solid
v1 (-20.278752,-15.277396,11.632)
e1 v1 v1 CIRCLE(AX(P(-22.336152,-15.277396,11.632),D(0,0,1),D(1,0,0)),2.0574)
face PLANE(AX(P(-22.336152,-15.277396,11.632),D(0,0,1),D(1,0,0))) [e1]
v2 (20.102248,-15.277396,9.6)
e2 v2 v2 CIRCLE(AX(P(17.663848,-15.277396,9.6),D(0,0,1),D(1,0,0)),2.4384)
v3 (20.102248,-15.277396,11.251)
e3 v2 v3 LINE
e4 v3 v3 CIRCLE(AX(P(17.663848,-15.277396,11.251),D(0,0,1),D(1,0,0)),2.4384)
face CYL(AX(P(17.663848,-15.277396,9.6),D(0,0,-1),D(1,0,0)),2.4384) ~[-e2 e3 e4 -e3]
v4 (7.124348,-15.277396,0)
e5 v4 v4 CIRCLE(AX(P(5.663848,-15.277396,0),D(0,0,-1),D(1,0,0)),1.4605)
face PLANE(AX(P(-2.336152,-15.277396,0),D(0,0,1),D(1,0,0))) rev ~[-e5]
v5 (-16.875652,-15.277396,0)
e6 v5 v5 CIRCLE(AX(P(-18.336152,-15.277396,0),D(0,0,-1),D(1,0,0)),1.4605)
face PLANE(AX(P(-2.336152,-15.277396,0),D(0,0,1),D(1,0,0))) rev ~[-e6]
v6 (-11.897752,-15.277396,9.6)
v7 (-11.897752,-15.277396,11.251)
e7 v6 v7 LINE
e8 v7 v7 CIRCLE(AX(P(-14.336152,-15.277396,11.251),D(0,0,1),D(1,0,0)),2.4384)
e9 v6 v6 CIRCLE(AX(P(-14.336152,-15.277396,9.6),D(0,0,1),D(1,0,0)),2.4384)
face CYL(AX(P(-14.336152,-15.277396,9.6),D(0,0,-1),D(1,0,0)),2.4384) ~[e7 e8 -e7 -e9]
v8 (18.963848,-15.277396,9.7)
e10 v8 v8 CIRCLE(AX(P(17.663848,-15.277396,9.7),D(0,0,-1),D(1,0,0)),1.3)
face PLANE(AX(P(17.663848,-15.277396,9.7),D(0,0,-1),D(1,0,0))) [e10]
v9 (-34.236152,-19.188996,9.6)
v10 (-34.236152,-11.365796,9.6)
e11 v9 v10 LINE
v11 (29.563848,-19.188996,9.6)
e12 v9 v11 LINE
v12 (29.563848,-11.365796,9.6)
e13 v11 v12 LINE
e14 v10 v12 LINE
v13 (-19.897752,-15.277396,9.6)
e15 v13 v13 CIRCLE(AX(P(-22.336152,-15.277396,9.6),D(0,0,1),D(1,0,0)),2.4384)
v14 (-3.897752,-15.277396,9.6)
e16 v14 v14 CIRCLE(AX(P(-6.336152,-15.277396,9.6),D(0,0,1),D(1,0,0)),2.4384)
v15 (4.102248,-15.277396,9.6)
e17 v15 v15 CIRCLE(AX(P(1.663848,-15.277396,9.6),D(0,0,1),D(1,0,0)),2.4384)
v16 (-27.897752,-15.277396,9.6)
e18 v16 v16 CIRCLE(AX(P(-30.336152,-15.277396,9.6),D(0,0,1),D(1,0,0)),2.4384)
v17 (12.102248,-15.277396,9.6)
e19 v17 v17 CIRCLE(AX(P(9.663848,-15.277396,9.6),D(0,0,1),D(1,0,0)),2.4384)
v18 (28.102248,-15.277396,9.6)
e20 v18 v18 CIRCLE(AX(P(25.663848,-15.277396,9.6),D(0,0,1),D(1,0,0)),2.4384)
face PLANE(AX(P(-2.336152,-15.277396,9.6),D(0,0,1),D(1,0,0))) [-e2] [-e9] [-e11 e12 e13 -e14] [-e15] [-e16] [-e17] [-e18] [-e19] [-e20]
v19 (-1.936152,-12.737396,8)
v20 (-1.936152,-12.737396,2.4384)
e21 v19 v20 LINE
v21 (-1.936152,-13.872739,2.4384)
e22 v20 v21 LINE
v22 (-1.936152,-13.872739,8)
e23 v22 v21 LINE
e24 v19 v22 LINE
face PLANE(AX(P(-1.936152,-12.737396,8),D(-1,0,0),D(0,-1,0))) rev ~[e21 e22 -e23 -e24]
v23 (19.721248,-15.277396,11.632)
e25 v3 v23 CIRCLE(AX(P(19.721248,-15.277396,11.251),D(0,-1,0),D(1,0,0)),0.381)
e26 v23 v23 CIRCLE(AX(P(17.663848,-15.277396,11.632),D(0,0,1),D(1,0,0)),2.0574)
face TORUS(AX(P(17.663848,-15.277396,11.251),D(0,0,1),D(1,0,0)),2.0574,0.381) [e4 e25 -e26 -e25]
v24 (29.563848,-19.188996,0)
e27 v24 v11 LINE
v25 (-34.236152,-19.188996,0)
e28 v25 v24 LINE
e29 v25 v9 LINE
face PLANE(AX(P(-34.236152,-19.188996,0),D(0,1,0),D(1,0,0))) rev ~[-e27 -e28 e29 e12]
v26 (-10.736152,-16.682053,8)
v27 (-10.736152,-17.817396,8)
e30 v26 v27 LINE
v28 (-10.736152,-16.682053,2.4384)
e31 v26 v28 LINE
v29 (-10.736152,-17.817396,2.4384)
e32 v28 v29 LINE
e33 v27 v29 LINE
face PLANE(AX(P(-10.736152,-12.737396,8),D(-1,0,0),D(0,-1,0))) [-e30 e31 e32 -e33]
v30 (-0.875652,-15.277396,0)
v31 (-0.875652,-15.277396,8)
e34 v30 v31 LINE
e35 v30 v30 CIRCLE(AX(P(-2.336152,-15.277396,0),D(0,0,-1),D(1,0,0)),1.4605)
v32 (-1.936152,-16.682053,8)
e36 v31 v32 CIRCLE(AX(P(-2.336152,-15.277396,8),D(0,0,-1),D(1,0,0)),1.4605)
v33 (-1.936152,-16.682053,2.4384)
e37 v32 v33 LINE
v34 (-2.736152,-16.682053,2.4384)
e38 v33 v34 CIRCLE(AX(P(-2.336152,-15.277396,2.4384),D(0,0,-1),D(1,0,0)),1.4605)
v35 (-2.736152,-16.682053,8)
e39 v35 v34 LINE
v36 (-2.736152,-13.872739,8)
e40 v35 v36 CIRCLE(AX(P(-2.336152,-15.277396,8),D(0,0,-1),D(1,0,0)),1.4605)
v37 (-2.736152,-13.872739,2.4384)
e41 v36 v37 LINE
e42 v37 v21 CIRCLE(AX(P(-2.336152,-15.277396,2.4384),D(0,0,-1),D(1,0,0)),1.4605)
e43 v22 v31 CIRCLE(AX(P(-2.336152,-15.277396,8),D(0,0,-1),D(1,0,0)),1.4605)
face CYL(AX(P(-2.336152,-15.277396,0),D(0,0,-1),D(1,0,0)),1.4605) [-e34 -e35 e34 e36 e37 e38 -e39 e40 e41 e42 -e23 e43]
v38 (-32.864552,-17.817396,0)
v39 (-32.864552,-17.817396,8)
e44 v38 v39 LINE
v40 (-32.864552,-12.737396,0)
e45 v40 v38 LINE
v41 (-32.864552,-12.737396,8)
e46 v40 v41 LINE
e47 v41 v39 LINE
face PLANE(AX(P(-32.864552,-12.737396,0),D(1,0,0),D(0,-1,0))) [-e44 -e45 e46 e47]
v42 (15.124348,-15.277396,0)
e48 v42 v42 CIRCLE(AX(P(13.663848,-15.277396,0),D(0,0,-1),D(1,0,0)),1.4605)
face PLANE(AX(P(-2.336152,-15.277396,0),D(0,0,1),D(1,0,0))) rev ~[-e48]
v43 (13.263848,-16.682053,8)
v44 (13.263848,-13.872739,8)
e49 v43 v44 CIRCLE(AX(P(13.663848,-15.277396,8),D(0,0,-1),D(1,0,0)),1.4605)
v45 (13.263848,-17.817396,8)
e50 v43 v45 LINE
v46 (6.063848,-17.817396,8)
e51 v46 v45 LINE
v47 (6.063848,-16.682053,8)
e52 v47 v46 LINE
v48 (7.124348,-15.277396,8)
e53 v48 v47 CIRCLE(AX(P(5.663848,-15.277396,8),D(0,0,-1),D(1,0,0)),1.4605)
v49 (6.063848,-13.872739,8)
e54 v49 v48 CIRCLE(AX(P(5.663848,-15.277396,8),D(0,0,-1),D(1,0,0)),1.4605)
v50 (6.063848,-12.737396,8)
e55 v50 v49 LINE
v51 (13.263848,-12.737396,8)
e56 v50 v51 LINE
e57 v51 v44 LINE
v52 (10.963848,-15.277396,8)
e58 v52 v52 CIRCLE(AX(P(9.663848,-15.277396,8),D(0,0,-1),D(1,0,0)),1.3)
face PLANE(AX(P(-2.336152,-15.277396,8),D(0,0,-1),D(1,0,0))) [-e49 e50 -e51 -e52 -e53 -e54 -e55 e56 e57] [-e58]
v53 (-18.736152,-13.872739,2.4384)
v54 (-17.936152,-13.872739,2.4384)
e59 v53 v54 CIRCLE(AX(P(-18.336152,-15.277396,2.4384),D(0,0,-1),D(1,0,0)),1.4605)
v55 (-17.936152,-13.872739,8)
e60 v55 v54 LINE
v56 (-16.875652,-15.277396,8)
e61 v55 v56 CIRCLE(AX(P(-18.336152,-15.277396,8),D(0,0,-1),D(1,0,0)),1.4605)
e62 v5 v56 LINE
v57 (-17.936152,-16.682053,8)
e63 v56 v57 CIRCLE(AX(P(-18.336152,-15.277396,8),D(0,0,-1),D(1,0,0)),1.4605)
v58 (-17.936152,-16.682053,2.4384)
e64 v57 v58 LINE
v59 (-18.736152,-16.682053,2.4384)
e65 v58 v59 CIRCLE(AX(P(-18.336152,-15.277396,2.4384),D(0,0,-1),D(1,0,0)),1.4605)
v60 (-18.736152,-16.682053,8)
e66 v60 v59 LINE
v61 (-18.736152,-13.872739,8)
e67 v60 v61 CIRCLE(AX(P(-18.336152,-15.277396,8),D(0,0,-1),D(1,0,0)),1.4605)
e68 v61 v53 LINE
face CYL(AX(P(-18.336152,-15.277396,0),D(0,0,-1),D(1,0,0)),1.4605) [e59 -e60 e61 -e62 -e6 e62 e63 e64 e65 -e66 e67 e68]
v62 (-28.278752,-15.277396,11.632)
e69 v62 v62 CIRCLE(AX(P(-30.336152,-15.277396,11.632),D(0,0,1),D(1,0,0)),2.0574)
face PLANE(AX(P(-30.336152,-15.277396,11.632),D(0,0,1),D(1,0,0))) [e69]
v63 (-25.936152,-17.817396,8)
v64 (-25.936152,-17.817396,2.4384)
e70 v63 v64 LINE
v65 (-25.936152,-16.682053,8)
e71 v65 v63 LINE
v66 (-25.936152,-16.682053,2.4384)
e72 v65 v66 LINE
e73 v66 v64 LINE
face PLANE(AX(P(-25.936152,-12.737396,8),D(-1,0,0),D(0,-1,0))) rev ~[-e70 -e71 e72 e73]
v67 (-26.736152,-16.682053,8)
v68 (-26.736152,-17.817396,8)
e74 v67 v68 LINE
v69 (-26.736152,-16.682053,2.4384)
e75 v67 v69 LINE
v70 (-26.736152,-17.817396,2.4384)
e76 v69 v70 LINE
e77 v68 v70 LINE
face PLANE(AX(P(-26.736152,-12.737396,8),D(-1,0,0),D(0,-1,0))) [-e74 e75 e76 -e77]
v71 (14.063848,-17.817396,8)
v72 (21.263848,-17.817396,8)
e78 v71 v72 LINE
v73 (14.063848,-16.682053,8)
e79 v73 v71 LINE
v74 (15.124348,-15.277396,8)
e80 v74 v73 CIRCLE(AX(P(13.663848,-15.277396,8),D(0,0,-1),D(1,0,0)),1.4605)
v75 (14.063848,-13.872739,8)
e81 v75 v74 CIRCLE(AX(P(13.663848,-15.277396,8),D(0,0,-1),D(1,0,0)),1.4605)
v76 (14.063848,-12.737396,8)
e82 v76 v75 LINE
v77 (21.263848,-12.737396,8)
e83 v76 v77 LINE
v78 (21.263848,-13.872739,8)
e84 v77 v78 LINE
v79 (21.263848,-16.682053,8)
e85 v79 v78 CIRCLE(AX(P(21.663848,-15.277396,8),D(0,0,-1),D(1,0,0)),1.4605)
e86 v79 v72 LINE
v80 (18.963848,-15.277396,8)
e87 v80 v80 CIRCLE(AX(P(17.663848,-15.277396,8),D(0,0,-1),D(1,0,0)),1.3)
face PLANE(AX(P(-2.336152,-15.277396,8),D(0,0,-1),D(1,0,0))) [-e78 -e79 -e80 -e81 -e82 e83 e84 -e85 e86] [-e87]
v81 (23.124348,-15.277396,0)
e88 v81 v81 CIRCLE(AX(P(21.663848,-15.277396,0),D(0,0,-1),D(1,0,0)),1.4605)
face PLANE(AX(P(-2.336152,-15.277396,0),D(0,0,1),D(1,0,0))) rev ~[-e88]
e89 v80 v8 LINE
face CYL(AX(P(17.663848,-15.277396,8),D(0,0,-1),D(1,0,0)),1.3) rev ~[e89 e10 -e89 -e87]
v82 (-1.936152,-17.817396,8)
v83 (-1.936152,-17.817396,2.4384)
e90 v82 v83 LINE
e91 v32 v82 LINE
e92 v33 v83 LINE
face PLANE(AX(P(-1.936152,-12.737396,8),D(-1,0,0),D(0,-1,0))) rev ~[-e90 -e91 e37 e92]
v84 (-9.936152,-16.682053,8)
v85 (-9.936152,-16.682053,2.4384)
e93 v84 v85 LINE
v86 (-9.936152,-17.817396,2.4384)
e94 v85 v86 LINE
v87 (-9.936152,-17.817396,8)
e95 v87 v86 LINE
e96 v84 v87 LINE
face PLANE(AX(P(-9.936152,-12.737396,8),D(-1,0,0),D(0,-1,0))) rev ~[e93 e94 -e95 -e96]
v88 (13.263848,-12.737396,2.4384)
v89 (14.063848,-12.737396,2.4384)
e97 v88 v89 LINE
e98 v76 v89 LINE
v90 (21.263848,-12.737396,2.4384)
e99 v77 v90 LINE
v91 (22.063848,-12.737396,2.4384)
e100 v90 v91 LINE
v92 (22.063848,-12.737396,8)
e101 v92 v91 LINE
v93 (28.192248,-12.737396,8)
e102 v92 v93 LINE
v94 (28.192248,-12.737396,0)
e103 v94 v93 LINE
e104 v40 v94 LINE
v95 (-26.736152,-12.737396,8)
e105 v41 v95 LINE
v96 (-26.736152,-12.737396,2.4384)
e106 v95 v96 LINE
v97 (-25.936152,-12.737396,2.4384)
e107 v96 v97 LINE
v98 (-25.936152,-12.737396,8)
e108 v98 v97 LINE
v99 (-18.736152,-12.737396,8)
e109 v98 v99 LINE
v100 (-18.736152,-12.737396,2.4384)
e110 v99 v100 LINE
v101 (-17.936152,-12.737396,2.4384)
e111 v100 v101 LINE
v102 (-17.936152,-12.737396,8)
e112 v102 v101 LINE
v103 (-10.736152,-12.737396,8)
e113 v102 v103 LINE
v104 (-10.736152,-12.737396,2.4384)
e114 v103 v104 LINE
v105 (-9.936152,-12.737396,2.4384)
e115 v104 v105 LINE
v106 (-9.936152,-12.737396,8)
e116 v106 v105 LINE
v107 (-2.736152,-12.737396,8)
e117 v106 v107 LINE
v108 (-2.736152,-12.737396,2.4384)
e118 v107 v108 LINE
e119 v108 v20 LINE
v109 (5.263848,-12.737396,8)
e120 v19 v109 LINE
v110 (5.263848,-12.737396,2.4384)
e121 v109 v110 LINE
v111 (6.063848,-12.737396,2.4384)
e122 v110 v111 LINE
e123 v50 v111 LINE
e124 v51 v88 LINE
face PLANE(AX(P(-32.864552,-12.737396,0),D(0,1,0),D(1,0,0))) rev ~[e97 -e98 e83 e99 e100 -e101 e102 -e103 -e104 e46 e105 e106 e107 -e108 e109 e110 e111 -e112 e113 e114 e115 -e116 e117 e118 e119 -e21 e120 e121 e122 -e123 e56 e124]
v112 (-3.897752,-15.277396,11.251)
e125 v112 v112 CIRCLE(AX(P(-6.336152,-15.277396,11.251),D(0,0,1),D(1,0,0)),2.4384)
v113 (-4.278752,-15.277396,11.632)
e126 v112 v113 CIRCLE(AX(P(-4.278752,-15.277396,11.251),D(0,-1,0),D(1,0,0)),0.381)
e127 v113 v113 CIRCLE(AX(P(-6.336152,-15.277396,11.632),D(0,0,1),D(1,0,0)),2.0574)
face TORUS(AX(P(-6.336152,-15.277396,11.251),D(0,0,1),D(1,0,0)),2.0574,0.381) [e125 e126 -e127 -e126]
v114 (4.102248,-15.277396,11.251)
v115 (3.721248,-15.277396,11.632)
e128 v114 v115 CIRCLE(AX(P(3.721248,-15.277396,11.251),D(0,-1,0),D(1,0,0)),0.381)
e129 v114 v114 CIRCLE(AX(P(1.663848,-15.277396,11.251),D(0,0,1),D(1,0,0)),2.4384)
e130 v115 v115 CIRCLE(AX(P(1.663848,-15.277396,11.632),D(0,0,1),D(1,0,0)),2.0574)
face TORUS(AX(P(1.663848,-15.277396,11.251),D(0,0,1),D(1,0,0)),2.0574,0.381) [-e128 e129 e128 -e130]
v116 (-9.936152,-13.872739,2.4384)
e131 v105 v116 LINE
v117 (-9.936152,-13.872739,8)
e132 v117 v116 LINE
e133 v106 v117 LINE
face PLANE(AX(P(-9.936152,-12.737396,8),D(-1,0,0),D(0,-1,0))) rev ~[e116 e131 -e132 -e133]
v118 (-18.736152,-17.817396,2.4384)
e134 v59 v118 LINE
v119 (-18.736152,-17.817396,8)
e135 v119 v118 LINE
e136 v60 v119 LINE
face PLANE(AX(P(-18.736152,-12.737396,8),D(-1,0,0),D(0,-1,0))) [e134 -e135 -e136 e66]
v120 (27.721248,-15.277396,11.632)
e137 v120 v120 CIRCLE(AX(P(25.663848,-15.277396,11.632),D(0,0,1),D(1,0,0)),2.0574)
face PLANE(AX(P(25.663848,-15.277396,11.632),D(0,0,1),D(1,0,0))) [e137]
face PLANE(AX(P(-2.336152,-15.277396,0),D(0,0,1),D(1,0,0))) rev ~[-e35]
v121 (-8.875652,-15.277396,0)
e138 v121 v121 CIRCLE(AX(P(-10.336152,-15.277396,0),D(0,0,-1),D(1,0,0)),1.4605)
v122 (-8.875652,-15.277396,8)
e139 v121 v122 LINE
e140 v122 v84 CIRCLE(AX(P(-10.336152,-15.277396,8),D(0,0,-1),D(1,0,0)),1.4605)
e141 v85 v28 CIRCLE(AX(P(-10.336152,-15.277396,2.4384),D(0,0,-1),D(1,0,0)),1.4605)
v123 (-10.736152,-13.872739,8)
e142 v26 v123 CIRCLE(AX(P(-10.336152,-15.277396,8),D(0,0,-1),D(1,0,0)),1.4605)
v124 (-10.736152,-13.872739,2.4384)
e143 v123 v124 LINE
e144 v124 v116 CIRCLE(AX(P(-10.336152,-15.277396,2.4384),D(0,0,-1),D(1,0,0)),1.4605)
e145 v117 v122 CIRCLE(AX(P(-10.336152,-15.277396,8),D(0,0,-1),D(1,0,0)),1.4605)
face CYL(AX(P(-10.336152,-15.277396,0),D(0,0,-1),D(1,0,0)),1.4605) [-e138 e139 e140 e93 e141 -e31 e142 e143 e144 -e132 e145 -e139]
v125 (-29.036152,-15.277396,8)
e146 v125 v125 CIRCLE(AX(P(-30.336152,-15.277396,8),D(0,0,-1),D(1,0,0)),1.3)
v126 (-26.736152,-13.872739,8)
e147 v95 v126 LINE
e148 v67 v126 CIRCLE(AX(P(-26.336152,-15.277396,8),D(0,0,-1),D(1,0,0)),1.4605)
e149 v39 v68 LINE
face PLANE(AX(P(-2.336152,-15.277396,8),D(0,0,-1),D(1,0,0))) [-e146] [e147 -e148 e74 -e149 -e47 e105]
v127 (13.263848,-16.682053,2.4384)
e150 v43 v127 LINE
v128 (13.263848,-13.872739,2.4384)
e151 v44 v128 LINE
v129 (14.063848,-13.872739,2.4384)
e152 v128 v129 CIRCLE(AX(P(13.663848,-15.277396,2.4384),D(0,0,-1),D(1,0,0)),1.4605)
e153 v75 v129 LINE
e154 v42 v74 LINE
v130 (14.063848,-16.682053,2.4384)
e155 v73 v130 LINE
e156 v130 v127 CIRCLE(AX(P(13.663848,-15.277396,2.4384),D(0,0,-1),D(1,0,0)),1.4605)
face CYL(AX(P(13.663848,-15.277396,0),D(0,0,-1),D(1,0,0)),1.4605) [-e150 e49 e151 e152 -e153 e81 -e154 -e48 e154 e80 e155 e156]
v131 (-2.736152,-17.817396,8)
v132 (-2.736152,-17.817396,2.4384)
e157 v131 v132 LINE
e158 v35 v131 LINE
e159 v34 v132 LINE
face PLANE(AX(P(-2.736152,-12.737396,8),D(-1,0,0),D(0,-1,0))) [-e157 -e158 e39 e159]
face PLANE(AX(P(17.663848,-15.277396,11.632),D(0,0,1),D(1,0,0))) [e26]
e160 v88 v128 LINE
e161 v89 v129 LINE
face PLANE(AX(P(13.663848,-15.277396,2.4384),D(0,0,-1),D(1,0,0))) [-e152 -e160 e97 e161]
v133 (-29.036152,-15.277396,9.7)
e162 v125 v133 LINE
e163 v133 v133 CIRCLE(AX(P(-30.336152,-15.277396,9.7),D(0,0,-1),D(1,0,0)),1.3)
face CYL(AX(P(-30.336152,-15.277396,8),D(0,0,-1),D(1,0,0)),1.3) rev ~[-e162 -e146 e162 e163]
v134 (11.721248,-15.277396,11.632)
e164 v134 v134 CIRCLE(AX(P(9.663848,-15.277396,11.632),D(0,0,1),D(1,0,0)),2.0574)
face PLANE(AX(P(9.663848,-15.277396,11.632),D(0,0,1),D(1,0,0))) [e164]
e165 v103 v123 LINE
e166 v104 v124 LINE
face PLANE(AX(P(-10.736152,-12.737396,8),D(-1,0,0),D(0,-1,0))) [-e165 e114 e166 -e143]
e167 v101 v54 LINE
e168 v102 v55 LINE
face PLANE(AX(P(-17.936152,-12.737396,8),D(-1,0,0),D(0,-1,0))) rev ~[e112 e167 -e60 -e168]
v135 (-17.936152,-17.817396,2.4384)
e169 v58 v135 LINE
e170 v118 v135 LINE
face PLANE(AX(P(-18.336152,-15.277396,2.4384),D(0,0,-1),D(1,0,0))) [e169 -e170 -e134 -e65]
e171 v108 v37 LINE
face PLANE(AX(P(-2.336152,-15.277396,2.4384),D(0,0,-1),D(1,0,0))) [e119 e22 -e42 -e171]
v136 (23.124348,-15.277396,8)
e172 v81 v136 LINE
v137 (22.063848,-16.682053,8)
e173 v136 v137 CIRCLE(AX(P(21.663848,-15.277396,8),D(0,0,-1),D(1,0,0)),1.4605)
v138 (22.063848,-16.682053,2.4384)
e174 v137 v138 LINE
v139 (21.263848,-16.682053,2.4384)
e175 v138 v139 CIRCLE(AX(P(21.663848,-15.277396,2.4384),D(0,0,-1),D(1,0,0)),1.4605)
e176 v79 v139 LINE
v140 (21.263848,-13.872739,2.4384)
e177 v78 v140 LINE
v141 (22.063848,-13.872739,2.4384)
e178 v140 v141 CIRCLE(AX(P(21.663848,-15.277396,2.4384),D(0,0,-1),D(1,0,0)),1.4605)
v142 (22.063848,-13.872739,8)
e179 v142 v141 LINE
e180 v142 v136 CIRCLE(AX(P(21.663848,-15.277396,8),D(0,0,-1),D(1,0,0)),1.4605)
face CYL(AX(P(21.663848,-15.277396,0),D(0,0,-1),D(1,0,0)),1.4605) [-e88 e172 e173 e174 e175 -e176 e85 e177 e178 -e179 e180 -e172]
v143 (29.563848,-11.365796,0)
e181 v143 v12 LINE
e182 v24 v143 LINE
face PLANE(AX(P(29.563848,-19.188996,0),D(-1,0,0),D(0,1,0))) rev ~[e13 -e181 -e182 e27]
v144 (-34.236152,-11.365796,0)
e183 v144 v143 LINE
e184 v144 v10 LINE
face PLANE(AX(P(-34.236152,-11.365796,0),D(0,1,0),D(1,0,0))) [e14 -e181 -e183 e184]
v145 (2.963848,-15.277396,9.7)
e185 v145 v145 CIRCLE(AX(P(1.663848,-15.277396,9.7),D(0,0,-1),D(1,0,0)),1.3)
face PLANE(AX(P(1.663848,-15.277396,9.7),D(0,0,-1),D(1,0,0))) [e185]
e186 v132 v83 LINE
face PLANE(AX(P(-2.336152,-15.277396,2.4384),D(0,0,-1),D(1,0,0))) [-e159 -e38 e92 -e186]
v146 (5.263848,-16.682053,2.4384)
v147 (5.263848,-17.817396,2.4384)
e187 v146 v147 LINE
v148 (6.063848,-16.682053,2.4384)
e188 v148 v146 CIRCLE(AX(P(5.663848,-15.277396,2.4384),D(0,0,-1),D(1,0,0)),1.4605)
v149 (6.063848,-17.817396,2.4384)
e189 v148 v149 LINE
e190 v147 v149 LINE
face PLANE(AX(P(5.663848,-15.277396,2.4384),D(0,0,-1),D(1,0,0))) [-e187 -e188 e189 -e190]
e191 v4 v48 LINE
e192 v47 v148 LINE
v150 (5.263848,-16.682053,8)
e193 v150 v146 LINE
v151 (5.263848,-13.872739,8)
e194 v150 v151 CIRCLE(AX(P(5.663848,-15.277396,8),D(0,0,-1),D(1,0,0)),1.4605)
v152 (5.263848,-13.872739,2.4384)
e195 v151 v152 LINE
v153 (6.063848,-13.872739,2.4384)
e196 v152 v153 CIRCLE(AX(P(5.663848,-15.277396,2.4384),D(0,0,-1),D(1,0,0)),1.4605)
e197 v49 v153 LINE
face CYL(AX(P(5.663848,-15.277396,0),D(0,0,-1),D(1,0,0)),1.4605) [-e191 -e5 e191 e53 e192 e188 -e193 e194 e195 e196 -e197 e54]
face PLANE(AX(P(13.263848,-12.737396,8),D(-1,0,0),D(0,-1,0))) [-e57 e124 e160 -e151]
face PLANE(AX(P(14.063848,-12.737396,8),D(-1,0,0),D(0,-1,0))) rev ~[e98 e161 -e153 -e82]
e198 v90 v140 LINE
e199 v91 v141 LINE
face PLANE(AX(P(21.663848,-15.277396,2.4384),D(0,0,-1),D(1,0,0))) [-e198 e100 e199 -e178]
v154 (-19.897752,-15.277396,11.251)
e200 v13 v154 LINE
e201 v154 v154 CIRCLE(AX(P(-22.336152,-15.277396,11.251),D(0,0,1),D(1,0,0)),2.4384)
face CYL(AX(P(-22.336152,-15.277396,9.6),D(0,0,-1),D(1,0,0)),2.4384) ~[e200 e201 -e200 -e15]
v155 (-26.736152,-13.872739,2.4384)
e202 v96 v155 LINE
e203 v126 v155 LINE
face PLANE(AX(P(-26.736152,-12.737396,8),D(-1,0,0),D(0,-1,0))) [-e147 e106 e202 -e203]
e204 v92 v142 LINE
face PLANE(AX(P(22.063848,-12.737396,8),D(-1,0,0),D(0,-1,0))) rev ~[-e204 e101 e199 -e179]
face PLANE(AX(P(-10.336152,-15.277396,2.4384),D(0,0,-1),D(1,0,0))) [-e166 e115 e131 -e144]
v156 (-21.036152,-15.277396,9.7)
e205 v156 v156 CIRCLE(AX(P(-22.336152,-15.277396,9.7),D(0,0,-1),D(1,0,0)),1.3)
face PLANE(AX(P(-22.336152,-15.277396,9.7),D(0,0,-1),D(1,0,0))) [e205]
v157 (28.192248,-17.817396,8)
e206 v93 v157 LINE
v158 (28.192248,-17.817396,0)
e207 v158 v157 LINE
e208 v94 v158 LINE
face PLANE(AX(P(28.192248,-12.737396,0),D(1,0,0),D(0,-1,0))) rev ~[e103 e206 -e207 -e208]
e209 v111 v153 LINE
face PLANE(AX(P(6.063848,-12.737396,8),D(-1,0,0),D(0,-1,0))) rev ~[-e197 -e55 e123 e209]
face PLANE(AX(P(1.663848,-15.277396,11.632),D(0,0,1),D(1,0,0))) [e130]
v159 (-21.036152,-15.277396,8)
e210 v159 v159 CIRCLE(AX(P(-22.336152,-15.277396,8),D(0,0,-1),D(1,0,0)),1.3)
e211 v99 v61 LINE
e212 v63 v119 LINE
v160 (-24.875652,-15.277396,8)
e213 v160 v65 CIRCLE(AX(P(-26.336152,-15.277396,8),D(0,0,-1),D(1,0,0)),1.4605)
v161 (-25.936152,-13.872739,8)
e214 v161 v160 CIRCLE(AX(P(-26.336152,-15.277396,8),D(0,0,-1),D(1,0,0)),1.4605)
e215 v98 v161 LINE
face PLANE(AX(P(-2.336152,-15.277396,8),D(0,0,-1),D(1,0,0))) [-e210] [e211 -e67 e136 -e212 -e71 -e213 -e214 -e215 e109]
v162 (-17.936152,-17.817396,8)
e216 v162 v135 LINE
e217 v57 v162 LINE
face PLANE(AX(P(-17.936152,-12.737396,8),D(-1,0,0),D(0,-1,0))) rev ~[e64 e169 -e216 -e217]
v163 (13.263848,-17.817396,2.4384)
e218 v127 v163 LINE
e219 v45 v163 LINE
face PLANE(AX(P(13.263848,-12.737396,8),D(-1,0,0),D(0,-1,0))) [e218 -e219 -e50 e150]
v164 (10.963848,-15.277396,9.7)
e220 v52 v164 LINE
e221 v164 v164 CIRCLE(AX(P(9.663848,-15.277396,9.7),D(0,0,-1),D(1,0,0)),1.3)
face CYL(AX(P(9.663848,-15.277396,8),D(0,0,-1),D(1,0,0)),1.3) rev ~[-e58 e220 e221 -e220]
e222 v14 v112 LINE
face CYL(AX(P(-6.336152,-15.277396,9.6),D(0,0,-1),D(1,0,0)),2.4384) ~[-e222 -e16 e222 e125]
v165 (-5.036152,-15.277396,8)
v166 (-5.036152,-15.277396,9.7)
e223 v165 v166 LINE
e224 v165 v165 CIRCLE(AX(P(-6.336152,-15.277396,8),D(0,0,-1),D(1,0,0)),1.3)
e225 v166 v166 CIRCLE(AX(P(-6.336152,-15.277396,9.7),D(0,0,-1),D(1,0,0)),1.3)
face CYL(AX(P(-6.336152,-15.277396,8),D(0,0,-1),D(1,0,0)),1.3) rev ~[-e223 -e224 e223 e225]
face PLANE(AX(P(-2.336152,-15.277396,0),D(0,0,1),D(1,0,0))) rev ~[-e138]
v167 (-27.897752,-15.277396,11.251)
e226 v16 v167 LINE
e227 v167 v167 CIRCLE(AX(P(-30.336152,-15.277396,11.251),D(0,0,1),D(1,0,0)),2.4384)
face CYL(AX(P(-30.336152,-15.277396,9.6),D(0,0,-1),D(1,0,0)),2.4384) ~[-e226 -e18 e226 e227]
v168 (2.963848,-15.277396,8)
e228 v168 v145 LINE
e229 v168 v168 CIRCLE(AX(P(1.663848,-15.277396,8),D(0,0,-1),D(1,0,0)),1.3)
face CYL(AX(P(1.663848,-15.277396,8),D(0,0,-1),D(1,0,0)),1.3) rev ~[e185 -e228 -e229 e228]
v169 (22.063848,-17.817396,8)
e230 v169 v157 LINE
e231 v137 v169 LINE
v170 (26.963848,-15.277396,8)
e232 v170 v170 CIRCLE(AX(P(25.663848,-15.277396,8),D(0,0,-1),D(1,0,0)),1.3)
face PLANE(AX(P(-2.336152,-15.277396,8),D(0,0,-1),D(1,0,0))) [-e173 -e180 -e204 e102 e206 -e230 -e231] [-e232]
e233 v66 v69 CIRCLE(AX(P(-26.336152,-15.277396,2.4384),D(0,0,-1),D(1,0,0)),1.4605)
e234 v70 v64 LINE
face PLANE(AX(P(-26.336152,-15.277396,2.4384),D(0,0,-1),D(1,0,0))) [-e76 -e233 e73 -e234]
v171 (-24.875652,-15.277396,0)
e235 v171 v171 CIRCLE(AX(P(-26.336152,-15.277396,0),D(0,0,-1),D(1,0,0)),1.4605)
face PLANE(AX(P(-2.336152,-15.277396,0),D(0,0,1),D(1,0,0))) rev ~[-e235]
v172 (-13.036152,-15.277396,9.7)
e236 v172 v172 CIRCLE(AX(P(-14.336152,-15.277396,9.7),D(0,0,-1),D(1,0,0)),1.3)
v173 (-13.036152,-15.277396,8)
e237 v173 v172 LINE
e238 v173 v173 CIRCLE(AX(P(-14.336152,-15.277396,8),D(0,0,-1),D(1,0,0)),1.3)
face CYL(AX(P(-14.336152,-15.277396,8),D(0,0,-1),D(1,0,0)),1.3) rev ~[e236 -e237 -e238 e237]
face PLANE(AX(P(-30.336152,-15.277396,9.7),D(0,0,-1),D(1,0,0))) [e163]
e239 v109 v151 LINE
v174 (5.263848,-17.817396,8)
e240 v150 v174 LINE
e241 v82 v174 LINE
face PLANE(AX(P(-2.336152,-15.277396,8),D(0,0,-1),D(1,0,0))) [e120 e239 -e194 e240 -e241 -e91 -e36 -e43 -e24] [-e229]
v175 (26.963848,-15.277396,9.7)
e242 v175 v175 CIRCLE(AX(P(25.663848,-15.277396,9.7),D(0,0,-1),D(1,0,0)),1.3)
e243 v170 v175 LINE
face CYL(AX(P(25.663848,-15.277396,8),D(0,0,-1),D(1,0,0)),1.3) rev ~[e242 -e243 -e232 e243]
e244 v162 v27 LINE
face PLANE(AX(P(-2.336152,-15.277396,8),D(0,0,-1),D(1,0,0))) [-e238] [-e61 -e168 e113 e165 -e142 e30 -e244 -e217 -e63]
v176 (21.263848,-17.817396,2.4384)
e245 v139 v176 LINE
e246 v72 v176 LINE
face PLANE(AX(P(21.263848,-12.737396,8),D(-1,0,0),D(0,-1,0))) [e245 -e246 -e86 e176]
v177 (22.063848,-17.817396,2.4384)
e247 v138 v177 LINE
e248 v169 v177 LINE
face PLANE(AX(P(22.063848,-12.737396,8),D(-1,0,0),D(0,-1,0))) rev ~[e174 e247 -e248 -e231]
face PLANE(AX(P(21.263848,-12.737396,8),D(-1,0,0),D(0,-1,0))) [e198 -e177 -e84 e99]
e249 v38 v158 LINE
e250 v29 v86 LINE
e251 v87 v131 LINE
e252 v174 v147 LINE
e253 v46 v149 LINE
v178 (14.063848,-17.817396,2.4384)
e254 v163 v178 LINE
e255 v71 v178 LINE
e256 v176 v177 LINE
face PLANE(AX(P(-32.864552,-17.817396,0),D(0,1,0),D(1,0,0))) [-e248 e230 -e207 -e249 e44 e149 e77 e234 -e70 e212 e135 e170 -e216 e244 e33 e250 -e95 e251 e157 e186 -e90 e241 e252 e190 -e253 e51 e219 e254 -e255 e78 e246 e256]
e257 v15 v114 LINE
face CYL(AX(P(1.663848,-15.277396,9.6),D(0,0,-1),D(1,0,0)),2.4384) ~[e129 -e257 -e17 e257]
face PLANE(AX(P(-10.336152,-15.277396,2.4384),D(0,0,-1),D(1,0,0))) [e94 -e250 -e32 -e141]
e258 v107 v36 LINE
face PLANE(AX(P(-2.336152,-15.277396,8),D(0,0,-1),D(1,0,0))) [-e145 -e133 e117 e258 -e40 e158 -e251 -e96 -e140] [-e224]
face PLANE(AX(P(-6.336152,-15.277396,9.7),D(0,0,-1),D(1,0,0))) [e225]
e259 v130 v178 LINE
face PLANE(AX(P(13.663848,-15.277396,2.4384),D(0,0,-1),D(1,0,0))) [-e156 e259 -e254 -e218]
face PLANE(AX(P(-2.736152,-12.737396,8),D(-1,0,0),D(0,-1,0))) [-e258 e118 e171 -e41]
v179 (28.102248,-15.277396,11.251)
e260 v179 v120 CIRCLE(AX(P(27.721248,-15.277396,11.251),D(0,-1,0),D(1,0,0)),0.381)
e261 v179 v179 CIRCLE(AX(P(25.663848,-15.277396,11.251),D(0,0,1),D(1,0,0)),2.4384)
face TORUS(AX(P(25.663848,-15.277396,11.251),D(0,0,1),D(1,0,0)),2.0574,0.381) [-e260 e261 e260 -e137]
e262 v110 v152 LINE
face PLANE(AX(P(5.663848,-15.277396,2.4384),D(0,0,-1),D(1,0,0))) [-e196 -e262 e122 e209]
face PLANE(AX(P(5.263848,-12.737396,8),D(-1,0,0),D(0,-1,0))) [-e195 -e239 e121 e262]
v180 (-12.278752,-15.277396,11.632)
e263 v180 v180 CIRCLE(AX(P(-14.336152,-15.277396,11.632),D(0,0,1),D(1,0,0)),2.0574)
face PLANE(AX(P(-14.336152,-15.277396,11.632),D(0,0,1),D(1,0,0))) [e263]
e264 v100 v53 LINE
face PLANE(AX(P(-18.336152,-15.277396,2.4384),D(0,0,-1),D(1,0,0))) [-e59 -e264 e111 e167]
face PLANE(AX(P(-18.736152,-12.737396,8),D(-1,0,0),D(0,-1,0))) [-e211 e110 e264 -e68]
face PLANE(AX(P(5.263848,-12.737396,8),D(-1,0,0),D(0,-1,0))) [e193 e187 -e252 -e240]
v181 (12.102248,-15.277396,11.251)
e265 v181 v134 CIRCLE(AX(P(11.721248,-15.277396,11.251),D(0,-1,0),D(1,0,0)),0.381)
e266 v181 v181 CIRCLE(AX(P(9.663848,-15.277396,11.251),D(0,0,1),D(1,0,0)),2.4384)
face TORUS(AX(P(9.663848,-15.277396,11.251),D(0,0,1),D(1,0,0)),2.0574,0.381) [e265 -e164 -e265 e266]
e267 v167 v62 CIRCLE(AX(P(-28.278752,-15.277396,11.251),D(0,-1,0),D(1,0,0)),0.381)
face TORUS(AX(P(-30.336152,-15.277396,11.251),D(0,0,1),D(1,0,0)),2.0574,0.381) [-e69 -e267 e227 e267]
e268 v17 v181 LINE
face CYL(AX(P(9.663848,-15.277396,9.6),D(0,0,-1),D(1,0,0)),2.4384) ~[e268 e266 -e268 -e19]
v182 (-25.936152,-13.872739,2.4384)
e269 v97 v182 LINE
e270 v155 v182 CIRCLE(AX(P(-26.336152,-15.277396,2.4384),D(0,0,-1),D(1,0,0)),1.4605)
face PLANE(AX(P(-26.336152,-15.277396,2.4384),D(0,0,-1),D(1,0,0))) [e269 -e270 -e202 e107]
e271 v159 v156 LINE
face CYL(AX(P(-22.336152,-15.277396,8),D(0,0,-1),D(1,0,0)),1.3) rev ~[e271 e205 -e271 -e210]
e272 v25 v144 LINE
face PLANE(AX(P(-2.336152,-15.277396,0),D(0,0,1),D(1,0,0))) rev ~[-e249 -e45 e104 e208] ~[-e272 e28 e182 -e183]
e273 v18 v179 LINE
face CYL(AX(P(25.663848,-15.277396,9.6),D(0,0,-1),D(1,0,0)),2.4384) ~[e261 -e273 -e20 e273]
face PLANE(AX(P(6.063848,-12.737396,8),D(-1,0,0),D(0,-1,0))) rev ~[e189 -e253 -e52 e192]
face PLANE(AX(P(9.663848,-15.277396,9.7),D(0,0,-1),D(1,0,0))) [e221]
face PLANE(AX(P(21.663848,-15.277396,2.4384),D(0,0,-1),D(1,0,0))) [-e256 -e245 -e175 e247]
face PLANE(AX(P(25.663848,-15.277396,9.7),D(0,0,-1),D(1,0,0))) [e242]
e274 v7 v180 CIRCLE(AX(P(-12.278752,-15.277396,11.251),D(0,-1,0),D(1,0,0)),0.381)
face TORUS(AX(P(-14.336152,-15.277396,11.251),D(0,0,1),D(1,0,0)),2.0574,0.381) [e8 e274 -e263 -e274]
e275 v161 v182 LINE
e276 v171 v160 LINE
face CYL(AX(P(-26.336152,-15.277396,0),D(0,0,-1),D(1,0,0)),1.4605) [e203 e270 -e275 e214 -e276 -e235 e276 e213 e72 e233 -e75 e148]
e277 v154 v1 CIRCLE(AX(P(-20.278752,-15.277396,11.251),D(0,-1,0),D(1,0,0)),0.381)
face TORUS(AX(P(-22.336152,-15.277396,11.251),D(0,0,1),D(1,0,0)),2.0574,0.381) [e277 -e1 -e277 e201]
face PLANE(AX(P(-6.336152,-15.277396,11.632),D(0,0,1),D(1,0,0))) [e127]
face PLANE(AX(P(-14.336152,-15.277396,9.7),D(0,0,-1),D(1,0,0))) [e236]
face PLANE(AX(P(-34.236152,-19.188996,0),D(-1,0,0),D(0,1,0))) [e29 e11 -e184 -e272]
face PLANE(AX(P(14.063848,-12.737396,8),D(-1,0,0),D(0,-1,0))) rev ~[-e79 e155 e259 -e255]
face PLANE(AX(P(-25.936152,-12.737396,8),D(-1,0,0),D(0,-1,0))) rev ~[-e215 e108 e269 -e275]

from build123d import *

# Parameters (mm, degrees)
F0_W      = 63.8
F0_H      = 7.8232
F1_DEPTH  = 9.6
F2_R      = 2.4384
F3_DEPTH  = 2.032
F4_W      = 61.0568
F4_H      = 5.08
F4_R      = 1.4605
F5_DEPTH  = 8
F6_R      = 0.381
F7_W      = 0.8
F7_H      = 5.08
F8_DEPTH  = 5.5616
F9_R      = 1.3
F10_DEPTH = 1.7


with BuildPart() as f1:
    # F0 (on Top) → F1 (new body)
    with BuildSketch(Plane.XY):
        with Locations((-2.336152, -15.277396)):
            Rectangle(F0_W, F0_H)
    extrude(amount=F1_DEPTH)

    # F2 (on face) → F3 (join)
    with BuildSketch(Plane.XY.offset(9.6)):
        with Locations((-30.336152, -15.277396)):
            Circle(F2_R)
        with Locations((-22.336152, -15.277396)):
            Circle(F2_R)
        with Locations((-14.336152, -15.277396)):
            Circle(F2_R)
        with Locations((-6.336152, -15.277396)):
            Circle(F2_R)
        with Locations((1.663848, -15.277396)):
            Circle(F2_R)
        with Locations((9.663848, -15.277396)):
            Circle(F2_R)
        with Locations((17.663848, -15.277396)):
            Circle(F2_R)
        with Locations((25.663848, -15.277396)):
            Circle(F2_R)
    extrude(amount=F3_DEPTH)

    # F4 (on face) → F5 (cut)
    with BuildSketch(Plane(origin=(0, 0, 0), x_dir=(1, 0, 0), z_dir=(0, 0, -1))):
        with Locations((-2.336152, 15.277396)):
            Rectangle(F4_W, F4_H)
        with Locations((-26.336152, 15.277396)):
            Circle(F4_R, mode=Mode.SUBTRACT)
        with Locations((-18.336152, 15.277396)):
            Circle(F4_R, mode=Mode.SUBTRACT)
        with Locations((-10.336152, 15.277396)):
            Circle(F4_R, mode=Mode.SUBTRACT)
        with Locations((-2.336152, 15.277396)):
            Circle(F4_R, mode=Mode.SUBTRACT)
        with Locations((5.663848, 15.277396)):
            Circle(F4_R, mode=Mode.SUBTRACT)
        with Locations((13.663848, 15.277396)):
            Circle(F4_R, mode=Mode.SUBTRACT)
        with Locations((21.663848, 15.277396)):
            Circle(F4_R, mode=Mode.SUBTRACT)
    extrude(amount=-F5_DEPTH, mode=Mode.SUBTRACT)

    # F6
    f6_edges = [f1.edges().sort_by_distance(p)[0] for p in [
        (-24.774552, -15.277396, 11.632),
        (-16.774552, -15.277396, 11.632),
        (-8.774552, -15.277396, 11.632),
        (-0.774552, -15.277396, 11.632),
        (7.225448, -15.277396, 11.632),
        (15.225448, -15.277396, 11.632),
        (23.225448, -15.277396, 11.632),
        (-32.774552, -15.277396, 11.632),
    ]]
    fillet(f6_edges, radius=F6_R)

    # F7 (on face) → F8 (join)
    with BuildSketch(Plane(origin=(0, 0, 8), x_dir=(1, 0, 0), z_dir=(0, 0, -1))):
        with Locations((-26.336152, 15.277396)):
            Rectangle(F7_W, F7_H)
        with Locations((-18.336152, 15.277396)):
            Rectangle(F7_W, F7_H)
        with Locations((-10.336152, 15.277396)):
            Rectangle(F7_W, F7_H)
        with Locations((-2.336152, 15.277396)):
            Rectangle(F7_W, F7_H)
        with Locations((5.663848, 15.277396)):
            Rectangle(F7_W, F7_H)
        with Locations((13.663848, 15.277396)):
            Rectangle(F7_W, F7_H)
        with Locations((21.663848, 15.277396)):
            Rectangle(F7_W, F7_H)
    extrude(amount=F8_DEPTH)

    # F9 (on face) → F10 (cut)
    with BuildSketch(Plane(origin=(0, 0, 8), x_dir=(1, 0, 0), z_dir=(0, 0, -1))):
        with Locations((-30.336152, 15.277396)):
            Circle(F9_R)
        with Locations((-22.336152, 15.277396)):
            Circle(F9_R)
        with Locations((-14.336152, 15.277396)):
            Circle(F9_R)
        with Locations((-6.336152, 15.277396)):
            Circle(F9_R)
        with Locations((1.663848, 15.277396)):
            Circle(F9_R)
        with Locations((9.663848, 15.277396)):
            Circle(F9_R)
        with Locations((17.663848, 15.277396)):
            Circle(F9_R)
        with Locations((25.663848, 15.277396)):
            Circle(F9_R)
    extrude(amount=-F10_DEPTH, mode=Mode.SUBTRACT)


solid = f1.part
